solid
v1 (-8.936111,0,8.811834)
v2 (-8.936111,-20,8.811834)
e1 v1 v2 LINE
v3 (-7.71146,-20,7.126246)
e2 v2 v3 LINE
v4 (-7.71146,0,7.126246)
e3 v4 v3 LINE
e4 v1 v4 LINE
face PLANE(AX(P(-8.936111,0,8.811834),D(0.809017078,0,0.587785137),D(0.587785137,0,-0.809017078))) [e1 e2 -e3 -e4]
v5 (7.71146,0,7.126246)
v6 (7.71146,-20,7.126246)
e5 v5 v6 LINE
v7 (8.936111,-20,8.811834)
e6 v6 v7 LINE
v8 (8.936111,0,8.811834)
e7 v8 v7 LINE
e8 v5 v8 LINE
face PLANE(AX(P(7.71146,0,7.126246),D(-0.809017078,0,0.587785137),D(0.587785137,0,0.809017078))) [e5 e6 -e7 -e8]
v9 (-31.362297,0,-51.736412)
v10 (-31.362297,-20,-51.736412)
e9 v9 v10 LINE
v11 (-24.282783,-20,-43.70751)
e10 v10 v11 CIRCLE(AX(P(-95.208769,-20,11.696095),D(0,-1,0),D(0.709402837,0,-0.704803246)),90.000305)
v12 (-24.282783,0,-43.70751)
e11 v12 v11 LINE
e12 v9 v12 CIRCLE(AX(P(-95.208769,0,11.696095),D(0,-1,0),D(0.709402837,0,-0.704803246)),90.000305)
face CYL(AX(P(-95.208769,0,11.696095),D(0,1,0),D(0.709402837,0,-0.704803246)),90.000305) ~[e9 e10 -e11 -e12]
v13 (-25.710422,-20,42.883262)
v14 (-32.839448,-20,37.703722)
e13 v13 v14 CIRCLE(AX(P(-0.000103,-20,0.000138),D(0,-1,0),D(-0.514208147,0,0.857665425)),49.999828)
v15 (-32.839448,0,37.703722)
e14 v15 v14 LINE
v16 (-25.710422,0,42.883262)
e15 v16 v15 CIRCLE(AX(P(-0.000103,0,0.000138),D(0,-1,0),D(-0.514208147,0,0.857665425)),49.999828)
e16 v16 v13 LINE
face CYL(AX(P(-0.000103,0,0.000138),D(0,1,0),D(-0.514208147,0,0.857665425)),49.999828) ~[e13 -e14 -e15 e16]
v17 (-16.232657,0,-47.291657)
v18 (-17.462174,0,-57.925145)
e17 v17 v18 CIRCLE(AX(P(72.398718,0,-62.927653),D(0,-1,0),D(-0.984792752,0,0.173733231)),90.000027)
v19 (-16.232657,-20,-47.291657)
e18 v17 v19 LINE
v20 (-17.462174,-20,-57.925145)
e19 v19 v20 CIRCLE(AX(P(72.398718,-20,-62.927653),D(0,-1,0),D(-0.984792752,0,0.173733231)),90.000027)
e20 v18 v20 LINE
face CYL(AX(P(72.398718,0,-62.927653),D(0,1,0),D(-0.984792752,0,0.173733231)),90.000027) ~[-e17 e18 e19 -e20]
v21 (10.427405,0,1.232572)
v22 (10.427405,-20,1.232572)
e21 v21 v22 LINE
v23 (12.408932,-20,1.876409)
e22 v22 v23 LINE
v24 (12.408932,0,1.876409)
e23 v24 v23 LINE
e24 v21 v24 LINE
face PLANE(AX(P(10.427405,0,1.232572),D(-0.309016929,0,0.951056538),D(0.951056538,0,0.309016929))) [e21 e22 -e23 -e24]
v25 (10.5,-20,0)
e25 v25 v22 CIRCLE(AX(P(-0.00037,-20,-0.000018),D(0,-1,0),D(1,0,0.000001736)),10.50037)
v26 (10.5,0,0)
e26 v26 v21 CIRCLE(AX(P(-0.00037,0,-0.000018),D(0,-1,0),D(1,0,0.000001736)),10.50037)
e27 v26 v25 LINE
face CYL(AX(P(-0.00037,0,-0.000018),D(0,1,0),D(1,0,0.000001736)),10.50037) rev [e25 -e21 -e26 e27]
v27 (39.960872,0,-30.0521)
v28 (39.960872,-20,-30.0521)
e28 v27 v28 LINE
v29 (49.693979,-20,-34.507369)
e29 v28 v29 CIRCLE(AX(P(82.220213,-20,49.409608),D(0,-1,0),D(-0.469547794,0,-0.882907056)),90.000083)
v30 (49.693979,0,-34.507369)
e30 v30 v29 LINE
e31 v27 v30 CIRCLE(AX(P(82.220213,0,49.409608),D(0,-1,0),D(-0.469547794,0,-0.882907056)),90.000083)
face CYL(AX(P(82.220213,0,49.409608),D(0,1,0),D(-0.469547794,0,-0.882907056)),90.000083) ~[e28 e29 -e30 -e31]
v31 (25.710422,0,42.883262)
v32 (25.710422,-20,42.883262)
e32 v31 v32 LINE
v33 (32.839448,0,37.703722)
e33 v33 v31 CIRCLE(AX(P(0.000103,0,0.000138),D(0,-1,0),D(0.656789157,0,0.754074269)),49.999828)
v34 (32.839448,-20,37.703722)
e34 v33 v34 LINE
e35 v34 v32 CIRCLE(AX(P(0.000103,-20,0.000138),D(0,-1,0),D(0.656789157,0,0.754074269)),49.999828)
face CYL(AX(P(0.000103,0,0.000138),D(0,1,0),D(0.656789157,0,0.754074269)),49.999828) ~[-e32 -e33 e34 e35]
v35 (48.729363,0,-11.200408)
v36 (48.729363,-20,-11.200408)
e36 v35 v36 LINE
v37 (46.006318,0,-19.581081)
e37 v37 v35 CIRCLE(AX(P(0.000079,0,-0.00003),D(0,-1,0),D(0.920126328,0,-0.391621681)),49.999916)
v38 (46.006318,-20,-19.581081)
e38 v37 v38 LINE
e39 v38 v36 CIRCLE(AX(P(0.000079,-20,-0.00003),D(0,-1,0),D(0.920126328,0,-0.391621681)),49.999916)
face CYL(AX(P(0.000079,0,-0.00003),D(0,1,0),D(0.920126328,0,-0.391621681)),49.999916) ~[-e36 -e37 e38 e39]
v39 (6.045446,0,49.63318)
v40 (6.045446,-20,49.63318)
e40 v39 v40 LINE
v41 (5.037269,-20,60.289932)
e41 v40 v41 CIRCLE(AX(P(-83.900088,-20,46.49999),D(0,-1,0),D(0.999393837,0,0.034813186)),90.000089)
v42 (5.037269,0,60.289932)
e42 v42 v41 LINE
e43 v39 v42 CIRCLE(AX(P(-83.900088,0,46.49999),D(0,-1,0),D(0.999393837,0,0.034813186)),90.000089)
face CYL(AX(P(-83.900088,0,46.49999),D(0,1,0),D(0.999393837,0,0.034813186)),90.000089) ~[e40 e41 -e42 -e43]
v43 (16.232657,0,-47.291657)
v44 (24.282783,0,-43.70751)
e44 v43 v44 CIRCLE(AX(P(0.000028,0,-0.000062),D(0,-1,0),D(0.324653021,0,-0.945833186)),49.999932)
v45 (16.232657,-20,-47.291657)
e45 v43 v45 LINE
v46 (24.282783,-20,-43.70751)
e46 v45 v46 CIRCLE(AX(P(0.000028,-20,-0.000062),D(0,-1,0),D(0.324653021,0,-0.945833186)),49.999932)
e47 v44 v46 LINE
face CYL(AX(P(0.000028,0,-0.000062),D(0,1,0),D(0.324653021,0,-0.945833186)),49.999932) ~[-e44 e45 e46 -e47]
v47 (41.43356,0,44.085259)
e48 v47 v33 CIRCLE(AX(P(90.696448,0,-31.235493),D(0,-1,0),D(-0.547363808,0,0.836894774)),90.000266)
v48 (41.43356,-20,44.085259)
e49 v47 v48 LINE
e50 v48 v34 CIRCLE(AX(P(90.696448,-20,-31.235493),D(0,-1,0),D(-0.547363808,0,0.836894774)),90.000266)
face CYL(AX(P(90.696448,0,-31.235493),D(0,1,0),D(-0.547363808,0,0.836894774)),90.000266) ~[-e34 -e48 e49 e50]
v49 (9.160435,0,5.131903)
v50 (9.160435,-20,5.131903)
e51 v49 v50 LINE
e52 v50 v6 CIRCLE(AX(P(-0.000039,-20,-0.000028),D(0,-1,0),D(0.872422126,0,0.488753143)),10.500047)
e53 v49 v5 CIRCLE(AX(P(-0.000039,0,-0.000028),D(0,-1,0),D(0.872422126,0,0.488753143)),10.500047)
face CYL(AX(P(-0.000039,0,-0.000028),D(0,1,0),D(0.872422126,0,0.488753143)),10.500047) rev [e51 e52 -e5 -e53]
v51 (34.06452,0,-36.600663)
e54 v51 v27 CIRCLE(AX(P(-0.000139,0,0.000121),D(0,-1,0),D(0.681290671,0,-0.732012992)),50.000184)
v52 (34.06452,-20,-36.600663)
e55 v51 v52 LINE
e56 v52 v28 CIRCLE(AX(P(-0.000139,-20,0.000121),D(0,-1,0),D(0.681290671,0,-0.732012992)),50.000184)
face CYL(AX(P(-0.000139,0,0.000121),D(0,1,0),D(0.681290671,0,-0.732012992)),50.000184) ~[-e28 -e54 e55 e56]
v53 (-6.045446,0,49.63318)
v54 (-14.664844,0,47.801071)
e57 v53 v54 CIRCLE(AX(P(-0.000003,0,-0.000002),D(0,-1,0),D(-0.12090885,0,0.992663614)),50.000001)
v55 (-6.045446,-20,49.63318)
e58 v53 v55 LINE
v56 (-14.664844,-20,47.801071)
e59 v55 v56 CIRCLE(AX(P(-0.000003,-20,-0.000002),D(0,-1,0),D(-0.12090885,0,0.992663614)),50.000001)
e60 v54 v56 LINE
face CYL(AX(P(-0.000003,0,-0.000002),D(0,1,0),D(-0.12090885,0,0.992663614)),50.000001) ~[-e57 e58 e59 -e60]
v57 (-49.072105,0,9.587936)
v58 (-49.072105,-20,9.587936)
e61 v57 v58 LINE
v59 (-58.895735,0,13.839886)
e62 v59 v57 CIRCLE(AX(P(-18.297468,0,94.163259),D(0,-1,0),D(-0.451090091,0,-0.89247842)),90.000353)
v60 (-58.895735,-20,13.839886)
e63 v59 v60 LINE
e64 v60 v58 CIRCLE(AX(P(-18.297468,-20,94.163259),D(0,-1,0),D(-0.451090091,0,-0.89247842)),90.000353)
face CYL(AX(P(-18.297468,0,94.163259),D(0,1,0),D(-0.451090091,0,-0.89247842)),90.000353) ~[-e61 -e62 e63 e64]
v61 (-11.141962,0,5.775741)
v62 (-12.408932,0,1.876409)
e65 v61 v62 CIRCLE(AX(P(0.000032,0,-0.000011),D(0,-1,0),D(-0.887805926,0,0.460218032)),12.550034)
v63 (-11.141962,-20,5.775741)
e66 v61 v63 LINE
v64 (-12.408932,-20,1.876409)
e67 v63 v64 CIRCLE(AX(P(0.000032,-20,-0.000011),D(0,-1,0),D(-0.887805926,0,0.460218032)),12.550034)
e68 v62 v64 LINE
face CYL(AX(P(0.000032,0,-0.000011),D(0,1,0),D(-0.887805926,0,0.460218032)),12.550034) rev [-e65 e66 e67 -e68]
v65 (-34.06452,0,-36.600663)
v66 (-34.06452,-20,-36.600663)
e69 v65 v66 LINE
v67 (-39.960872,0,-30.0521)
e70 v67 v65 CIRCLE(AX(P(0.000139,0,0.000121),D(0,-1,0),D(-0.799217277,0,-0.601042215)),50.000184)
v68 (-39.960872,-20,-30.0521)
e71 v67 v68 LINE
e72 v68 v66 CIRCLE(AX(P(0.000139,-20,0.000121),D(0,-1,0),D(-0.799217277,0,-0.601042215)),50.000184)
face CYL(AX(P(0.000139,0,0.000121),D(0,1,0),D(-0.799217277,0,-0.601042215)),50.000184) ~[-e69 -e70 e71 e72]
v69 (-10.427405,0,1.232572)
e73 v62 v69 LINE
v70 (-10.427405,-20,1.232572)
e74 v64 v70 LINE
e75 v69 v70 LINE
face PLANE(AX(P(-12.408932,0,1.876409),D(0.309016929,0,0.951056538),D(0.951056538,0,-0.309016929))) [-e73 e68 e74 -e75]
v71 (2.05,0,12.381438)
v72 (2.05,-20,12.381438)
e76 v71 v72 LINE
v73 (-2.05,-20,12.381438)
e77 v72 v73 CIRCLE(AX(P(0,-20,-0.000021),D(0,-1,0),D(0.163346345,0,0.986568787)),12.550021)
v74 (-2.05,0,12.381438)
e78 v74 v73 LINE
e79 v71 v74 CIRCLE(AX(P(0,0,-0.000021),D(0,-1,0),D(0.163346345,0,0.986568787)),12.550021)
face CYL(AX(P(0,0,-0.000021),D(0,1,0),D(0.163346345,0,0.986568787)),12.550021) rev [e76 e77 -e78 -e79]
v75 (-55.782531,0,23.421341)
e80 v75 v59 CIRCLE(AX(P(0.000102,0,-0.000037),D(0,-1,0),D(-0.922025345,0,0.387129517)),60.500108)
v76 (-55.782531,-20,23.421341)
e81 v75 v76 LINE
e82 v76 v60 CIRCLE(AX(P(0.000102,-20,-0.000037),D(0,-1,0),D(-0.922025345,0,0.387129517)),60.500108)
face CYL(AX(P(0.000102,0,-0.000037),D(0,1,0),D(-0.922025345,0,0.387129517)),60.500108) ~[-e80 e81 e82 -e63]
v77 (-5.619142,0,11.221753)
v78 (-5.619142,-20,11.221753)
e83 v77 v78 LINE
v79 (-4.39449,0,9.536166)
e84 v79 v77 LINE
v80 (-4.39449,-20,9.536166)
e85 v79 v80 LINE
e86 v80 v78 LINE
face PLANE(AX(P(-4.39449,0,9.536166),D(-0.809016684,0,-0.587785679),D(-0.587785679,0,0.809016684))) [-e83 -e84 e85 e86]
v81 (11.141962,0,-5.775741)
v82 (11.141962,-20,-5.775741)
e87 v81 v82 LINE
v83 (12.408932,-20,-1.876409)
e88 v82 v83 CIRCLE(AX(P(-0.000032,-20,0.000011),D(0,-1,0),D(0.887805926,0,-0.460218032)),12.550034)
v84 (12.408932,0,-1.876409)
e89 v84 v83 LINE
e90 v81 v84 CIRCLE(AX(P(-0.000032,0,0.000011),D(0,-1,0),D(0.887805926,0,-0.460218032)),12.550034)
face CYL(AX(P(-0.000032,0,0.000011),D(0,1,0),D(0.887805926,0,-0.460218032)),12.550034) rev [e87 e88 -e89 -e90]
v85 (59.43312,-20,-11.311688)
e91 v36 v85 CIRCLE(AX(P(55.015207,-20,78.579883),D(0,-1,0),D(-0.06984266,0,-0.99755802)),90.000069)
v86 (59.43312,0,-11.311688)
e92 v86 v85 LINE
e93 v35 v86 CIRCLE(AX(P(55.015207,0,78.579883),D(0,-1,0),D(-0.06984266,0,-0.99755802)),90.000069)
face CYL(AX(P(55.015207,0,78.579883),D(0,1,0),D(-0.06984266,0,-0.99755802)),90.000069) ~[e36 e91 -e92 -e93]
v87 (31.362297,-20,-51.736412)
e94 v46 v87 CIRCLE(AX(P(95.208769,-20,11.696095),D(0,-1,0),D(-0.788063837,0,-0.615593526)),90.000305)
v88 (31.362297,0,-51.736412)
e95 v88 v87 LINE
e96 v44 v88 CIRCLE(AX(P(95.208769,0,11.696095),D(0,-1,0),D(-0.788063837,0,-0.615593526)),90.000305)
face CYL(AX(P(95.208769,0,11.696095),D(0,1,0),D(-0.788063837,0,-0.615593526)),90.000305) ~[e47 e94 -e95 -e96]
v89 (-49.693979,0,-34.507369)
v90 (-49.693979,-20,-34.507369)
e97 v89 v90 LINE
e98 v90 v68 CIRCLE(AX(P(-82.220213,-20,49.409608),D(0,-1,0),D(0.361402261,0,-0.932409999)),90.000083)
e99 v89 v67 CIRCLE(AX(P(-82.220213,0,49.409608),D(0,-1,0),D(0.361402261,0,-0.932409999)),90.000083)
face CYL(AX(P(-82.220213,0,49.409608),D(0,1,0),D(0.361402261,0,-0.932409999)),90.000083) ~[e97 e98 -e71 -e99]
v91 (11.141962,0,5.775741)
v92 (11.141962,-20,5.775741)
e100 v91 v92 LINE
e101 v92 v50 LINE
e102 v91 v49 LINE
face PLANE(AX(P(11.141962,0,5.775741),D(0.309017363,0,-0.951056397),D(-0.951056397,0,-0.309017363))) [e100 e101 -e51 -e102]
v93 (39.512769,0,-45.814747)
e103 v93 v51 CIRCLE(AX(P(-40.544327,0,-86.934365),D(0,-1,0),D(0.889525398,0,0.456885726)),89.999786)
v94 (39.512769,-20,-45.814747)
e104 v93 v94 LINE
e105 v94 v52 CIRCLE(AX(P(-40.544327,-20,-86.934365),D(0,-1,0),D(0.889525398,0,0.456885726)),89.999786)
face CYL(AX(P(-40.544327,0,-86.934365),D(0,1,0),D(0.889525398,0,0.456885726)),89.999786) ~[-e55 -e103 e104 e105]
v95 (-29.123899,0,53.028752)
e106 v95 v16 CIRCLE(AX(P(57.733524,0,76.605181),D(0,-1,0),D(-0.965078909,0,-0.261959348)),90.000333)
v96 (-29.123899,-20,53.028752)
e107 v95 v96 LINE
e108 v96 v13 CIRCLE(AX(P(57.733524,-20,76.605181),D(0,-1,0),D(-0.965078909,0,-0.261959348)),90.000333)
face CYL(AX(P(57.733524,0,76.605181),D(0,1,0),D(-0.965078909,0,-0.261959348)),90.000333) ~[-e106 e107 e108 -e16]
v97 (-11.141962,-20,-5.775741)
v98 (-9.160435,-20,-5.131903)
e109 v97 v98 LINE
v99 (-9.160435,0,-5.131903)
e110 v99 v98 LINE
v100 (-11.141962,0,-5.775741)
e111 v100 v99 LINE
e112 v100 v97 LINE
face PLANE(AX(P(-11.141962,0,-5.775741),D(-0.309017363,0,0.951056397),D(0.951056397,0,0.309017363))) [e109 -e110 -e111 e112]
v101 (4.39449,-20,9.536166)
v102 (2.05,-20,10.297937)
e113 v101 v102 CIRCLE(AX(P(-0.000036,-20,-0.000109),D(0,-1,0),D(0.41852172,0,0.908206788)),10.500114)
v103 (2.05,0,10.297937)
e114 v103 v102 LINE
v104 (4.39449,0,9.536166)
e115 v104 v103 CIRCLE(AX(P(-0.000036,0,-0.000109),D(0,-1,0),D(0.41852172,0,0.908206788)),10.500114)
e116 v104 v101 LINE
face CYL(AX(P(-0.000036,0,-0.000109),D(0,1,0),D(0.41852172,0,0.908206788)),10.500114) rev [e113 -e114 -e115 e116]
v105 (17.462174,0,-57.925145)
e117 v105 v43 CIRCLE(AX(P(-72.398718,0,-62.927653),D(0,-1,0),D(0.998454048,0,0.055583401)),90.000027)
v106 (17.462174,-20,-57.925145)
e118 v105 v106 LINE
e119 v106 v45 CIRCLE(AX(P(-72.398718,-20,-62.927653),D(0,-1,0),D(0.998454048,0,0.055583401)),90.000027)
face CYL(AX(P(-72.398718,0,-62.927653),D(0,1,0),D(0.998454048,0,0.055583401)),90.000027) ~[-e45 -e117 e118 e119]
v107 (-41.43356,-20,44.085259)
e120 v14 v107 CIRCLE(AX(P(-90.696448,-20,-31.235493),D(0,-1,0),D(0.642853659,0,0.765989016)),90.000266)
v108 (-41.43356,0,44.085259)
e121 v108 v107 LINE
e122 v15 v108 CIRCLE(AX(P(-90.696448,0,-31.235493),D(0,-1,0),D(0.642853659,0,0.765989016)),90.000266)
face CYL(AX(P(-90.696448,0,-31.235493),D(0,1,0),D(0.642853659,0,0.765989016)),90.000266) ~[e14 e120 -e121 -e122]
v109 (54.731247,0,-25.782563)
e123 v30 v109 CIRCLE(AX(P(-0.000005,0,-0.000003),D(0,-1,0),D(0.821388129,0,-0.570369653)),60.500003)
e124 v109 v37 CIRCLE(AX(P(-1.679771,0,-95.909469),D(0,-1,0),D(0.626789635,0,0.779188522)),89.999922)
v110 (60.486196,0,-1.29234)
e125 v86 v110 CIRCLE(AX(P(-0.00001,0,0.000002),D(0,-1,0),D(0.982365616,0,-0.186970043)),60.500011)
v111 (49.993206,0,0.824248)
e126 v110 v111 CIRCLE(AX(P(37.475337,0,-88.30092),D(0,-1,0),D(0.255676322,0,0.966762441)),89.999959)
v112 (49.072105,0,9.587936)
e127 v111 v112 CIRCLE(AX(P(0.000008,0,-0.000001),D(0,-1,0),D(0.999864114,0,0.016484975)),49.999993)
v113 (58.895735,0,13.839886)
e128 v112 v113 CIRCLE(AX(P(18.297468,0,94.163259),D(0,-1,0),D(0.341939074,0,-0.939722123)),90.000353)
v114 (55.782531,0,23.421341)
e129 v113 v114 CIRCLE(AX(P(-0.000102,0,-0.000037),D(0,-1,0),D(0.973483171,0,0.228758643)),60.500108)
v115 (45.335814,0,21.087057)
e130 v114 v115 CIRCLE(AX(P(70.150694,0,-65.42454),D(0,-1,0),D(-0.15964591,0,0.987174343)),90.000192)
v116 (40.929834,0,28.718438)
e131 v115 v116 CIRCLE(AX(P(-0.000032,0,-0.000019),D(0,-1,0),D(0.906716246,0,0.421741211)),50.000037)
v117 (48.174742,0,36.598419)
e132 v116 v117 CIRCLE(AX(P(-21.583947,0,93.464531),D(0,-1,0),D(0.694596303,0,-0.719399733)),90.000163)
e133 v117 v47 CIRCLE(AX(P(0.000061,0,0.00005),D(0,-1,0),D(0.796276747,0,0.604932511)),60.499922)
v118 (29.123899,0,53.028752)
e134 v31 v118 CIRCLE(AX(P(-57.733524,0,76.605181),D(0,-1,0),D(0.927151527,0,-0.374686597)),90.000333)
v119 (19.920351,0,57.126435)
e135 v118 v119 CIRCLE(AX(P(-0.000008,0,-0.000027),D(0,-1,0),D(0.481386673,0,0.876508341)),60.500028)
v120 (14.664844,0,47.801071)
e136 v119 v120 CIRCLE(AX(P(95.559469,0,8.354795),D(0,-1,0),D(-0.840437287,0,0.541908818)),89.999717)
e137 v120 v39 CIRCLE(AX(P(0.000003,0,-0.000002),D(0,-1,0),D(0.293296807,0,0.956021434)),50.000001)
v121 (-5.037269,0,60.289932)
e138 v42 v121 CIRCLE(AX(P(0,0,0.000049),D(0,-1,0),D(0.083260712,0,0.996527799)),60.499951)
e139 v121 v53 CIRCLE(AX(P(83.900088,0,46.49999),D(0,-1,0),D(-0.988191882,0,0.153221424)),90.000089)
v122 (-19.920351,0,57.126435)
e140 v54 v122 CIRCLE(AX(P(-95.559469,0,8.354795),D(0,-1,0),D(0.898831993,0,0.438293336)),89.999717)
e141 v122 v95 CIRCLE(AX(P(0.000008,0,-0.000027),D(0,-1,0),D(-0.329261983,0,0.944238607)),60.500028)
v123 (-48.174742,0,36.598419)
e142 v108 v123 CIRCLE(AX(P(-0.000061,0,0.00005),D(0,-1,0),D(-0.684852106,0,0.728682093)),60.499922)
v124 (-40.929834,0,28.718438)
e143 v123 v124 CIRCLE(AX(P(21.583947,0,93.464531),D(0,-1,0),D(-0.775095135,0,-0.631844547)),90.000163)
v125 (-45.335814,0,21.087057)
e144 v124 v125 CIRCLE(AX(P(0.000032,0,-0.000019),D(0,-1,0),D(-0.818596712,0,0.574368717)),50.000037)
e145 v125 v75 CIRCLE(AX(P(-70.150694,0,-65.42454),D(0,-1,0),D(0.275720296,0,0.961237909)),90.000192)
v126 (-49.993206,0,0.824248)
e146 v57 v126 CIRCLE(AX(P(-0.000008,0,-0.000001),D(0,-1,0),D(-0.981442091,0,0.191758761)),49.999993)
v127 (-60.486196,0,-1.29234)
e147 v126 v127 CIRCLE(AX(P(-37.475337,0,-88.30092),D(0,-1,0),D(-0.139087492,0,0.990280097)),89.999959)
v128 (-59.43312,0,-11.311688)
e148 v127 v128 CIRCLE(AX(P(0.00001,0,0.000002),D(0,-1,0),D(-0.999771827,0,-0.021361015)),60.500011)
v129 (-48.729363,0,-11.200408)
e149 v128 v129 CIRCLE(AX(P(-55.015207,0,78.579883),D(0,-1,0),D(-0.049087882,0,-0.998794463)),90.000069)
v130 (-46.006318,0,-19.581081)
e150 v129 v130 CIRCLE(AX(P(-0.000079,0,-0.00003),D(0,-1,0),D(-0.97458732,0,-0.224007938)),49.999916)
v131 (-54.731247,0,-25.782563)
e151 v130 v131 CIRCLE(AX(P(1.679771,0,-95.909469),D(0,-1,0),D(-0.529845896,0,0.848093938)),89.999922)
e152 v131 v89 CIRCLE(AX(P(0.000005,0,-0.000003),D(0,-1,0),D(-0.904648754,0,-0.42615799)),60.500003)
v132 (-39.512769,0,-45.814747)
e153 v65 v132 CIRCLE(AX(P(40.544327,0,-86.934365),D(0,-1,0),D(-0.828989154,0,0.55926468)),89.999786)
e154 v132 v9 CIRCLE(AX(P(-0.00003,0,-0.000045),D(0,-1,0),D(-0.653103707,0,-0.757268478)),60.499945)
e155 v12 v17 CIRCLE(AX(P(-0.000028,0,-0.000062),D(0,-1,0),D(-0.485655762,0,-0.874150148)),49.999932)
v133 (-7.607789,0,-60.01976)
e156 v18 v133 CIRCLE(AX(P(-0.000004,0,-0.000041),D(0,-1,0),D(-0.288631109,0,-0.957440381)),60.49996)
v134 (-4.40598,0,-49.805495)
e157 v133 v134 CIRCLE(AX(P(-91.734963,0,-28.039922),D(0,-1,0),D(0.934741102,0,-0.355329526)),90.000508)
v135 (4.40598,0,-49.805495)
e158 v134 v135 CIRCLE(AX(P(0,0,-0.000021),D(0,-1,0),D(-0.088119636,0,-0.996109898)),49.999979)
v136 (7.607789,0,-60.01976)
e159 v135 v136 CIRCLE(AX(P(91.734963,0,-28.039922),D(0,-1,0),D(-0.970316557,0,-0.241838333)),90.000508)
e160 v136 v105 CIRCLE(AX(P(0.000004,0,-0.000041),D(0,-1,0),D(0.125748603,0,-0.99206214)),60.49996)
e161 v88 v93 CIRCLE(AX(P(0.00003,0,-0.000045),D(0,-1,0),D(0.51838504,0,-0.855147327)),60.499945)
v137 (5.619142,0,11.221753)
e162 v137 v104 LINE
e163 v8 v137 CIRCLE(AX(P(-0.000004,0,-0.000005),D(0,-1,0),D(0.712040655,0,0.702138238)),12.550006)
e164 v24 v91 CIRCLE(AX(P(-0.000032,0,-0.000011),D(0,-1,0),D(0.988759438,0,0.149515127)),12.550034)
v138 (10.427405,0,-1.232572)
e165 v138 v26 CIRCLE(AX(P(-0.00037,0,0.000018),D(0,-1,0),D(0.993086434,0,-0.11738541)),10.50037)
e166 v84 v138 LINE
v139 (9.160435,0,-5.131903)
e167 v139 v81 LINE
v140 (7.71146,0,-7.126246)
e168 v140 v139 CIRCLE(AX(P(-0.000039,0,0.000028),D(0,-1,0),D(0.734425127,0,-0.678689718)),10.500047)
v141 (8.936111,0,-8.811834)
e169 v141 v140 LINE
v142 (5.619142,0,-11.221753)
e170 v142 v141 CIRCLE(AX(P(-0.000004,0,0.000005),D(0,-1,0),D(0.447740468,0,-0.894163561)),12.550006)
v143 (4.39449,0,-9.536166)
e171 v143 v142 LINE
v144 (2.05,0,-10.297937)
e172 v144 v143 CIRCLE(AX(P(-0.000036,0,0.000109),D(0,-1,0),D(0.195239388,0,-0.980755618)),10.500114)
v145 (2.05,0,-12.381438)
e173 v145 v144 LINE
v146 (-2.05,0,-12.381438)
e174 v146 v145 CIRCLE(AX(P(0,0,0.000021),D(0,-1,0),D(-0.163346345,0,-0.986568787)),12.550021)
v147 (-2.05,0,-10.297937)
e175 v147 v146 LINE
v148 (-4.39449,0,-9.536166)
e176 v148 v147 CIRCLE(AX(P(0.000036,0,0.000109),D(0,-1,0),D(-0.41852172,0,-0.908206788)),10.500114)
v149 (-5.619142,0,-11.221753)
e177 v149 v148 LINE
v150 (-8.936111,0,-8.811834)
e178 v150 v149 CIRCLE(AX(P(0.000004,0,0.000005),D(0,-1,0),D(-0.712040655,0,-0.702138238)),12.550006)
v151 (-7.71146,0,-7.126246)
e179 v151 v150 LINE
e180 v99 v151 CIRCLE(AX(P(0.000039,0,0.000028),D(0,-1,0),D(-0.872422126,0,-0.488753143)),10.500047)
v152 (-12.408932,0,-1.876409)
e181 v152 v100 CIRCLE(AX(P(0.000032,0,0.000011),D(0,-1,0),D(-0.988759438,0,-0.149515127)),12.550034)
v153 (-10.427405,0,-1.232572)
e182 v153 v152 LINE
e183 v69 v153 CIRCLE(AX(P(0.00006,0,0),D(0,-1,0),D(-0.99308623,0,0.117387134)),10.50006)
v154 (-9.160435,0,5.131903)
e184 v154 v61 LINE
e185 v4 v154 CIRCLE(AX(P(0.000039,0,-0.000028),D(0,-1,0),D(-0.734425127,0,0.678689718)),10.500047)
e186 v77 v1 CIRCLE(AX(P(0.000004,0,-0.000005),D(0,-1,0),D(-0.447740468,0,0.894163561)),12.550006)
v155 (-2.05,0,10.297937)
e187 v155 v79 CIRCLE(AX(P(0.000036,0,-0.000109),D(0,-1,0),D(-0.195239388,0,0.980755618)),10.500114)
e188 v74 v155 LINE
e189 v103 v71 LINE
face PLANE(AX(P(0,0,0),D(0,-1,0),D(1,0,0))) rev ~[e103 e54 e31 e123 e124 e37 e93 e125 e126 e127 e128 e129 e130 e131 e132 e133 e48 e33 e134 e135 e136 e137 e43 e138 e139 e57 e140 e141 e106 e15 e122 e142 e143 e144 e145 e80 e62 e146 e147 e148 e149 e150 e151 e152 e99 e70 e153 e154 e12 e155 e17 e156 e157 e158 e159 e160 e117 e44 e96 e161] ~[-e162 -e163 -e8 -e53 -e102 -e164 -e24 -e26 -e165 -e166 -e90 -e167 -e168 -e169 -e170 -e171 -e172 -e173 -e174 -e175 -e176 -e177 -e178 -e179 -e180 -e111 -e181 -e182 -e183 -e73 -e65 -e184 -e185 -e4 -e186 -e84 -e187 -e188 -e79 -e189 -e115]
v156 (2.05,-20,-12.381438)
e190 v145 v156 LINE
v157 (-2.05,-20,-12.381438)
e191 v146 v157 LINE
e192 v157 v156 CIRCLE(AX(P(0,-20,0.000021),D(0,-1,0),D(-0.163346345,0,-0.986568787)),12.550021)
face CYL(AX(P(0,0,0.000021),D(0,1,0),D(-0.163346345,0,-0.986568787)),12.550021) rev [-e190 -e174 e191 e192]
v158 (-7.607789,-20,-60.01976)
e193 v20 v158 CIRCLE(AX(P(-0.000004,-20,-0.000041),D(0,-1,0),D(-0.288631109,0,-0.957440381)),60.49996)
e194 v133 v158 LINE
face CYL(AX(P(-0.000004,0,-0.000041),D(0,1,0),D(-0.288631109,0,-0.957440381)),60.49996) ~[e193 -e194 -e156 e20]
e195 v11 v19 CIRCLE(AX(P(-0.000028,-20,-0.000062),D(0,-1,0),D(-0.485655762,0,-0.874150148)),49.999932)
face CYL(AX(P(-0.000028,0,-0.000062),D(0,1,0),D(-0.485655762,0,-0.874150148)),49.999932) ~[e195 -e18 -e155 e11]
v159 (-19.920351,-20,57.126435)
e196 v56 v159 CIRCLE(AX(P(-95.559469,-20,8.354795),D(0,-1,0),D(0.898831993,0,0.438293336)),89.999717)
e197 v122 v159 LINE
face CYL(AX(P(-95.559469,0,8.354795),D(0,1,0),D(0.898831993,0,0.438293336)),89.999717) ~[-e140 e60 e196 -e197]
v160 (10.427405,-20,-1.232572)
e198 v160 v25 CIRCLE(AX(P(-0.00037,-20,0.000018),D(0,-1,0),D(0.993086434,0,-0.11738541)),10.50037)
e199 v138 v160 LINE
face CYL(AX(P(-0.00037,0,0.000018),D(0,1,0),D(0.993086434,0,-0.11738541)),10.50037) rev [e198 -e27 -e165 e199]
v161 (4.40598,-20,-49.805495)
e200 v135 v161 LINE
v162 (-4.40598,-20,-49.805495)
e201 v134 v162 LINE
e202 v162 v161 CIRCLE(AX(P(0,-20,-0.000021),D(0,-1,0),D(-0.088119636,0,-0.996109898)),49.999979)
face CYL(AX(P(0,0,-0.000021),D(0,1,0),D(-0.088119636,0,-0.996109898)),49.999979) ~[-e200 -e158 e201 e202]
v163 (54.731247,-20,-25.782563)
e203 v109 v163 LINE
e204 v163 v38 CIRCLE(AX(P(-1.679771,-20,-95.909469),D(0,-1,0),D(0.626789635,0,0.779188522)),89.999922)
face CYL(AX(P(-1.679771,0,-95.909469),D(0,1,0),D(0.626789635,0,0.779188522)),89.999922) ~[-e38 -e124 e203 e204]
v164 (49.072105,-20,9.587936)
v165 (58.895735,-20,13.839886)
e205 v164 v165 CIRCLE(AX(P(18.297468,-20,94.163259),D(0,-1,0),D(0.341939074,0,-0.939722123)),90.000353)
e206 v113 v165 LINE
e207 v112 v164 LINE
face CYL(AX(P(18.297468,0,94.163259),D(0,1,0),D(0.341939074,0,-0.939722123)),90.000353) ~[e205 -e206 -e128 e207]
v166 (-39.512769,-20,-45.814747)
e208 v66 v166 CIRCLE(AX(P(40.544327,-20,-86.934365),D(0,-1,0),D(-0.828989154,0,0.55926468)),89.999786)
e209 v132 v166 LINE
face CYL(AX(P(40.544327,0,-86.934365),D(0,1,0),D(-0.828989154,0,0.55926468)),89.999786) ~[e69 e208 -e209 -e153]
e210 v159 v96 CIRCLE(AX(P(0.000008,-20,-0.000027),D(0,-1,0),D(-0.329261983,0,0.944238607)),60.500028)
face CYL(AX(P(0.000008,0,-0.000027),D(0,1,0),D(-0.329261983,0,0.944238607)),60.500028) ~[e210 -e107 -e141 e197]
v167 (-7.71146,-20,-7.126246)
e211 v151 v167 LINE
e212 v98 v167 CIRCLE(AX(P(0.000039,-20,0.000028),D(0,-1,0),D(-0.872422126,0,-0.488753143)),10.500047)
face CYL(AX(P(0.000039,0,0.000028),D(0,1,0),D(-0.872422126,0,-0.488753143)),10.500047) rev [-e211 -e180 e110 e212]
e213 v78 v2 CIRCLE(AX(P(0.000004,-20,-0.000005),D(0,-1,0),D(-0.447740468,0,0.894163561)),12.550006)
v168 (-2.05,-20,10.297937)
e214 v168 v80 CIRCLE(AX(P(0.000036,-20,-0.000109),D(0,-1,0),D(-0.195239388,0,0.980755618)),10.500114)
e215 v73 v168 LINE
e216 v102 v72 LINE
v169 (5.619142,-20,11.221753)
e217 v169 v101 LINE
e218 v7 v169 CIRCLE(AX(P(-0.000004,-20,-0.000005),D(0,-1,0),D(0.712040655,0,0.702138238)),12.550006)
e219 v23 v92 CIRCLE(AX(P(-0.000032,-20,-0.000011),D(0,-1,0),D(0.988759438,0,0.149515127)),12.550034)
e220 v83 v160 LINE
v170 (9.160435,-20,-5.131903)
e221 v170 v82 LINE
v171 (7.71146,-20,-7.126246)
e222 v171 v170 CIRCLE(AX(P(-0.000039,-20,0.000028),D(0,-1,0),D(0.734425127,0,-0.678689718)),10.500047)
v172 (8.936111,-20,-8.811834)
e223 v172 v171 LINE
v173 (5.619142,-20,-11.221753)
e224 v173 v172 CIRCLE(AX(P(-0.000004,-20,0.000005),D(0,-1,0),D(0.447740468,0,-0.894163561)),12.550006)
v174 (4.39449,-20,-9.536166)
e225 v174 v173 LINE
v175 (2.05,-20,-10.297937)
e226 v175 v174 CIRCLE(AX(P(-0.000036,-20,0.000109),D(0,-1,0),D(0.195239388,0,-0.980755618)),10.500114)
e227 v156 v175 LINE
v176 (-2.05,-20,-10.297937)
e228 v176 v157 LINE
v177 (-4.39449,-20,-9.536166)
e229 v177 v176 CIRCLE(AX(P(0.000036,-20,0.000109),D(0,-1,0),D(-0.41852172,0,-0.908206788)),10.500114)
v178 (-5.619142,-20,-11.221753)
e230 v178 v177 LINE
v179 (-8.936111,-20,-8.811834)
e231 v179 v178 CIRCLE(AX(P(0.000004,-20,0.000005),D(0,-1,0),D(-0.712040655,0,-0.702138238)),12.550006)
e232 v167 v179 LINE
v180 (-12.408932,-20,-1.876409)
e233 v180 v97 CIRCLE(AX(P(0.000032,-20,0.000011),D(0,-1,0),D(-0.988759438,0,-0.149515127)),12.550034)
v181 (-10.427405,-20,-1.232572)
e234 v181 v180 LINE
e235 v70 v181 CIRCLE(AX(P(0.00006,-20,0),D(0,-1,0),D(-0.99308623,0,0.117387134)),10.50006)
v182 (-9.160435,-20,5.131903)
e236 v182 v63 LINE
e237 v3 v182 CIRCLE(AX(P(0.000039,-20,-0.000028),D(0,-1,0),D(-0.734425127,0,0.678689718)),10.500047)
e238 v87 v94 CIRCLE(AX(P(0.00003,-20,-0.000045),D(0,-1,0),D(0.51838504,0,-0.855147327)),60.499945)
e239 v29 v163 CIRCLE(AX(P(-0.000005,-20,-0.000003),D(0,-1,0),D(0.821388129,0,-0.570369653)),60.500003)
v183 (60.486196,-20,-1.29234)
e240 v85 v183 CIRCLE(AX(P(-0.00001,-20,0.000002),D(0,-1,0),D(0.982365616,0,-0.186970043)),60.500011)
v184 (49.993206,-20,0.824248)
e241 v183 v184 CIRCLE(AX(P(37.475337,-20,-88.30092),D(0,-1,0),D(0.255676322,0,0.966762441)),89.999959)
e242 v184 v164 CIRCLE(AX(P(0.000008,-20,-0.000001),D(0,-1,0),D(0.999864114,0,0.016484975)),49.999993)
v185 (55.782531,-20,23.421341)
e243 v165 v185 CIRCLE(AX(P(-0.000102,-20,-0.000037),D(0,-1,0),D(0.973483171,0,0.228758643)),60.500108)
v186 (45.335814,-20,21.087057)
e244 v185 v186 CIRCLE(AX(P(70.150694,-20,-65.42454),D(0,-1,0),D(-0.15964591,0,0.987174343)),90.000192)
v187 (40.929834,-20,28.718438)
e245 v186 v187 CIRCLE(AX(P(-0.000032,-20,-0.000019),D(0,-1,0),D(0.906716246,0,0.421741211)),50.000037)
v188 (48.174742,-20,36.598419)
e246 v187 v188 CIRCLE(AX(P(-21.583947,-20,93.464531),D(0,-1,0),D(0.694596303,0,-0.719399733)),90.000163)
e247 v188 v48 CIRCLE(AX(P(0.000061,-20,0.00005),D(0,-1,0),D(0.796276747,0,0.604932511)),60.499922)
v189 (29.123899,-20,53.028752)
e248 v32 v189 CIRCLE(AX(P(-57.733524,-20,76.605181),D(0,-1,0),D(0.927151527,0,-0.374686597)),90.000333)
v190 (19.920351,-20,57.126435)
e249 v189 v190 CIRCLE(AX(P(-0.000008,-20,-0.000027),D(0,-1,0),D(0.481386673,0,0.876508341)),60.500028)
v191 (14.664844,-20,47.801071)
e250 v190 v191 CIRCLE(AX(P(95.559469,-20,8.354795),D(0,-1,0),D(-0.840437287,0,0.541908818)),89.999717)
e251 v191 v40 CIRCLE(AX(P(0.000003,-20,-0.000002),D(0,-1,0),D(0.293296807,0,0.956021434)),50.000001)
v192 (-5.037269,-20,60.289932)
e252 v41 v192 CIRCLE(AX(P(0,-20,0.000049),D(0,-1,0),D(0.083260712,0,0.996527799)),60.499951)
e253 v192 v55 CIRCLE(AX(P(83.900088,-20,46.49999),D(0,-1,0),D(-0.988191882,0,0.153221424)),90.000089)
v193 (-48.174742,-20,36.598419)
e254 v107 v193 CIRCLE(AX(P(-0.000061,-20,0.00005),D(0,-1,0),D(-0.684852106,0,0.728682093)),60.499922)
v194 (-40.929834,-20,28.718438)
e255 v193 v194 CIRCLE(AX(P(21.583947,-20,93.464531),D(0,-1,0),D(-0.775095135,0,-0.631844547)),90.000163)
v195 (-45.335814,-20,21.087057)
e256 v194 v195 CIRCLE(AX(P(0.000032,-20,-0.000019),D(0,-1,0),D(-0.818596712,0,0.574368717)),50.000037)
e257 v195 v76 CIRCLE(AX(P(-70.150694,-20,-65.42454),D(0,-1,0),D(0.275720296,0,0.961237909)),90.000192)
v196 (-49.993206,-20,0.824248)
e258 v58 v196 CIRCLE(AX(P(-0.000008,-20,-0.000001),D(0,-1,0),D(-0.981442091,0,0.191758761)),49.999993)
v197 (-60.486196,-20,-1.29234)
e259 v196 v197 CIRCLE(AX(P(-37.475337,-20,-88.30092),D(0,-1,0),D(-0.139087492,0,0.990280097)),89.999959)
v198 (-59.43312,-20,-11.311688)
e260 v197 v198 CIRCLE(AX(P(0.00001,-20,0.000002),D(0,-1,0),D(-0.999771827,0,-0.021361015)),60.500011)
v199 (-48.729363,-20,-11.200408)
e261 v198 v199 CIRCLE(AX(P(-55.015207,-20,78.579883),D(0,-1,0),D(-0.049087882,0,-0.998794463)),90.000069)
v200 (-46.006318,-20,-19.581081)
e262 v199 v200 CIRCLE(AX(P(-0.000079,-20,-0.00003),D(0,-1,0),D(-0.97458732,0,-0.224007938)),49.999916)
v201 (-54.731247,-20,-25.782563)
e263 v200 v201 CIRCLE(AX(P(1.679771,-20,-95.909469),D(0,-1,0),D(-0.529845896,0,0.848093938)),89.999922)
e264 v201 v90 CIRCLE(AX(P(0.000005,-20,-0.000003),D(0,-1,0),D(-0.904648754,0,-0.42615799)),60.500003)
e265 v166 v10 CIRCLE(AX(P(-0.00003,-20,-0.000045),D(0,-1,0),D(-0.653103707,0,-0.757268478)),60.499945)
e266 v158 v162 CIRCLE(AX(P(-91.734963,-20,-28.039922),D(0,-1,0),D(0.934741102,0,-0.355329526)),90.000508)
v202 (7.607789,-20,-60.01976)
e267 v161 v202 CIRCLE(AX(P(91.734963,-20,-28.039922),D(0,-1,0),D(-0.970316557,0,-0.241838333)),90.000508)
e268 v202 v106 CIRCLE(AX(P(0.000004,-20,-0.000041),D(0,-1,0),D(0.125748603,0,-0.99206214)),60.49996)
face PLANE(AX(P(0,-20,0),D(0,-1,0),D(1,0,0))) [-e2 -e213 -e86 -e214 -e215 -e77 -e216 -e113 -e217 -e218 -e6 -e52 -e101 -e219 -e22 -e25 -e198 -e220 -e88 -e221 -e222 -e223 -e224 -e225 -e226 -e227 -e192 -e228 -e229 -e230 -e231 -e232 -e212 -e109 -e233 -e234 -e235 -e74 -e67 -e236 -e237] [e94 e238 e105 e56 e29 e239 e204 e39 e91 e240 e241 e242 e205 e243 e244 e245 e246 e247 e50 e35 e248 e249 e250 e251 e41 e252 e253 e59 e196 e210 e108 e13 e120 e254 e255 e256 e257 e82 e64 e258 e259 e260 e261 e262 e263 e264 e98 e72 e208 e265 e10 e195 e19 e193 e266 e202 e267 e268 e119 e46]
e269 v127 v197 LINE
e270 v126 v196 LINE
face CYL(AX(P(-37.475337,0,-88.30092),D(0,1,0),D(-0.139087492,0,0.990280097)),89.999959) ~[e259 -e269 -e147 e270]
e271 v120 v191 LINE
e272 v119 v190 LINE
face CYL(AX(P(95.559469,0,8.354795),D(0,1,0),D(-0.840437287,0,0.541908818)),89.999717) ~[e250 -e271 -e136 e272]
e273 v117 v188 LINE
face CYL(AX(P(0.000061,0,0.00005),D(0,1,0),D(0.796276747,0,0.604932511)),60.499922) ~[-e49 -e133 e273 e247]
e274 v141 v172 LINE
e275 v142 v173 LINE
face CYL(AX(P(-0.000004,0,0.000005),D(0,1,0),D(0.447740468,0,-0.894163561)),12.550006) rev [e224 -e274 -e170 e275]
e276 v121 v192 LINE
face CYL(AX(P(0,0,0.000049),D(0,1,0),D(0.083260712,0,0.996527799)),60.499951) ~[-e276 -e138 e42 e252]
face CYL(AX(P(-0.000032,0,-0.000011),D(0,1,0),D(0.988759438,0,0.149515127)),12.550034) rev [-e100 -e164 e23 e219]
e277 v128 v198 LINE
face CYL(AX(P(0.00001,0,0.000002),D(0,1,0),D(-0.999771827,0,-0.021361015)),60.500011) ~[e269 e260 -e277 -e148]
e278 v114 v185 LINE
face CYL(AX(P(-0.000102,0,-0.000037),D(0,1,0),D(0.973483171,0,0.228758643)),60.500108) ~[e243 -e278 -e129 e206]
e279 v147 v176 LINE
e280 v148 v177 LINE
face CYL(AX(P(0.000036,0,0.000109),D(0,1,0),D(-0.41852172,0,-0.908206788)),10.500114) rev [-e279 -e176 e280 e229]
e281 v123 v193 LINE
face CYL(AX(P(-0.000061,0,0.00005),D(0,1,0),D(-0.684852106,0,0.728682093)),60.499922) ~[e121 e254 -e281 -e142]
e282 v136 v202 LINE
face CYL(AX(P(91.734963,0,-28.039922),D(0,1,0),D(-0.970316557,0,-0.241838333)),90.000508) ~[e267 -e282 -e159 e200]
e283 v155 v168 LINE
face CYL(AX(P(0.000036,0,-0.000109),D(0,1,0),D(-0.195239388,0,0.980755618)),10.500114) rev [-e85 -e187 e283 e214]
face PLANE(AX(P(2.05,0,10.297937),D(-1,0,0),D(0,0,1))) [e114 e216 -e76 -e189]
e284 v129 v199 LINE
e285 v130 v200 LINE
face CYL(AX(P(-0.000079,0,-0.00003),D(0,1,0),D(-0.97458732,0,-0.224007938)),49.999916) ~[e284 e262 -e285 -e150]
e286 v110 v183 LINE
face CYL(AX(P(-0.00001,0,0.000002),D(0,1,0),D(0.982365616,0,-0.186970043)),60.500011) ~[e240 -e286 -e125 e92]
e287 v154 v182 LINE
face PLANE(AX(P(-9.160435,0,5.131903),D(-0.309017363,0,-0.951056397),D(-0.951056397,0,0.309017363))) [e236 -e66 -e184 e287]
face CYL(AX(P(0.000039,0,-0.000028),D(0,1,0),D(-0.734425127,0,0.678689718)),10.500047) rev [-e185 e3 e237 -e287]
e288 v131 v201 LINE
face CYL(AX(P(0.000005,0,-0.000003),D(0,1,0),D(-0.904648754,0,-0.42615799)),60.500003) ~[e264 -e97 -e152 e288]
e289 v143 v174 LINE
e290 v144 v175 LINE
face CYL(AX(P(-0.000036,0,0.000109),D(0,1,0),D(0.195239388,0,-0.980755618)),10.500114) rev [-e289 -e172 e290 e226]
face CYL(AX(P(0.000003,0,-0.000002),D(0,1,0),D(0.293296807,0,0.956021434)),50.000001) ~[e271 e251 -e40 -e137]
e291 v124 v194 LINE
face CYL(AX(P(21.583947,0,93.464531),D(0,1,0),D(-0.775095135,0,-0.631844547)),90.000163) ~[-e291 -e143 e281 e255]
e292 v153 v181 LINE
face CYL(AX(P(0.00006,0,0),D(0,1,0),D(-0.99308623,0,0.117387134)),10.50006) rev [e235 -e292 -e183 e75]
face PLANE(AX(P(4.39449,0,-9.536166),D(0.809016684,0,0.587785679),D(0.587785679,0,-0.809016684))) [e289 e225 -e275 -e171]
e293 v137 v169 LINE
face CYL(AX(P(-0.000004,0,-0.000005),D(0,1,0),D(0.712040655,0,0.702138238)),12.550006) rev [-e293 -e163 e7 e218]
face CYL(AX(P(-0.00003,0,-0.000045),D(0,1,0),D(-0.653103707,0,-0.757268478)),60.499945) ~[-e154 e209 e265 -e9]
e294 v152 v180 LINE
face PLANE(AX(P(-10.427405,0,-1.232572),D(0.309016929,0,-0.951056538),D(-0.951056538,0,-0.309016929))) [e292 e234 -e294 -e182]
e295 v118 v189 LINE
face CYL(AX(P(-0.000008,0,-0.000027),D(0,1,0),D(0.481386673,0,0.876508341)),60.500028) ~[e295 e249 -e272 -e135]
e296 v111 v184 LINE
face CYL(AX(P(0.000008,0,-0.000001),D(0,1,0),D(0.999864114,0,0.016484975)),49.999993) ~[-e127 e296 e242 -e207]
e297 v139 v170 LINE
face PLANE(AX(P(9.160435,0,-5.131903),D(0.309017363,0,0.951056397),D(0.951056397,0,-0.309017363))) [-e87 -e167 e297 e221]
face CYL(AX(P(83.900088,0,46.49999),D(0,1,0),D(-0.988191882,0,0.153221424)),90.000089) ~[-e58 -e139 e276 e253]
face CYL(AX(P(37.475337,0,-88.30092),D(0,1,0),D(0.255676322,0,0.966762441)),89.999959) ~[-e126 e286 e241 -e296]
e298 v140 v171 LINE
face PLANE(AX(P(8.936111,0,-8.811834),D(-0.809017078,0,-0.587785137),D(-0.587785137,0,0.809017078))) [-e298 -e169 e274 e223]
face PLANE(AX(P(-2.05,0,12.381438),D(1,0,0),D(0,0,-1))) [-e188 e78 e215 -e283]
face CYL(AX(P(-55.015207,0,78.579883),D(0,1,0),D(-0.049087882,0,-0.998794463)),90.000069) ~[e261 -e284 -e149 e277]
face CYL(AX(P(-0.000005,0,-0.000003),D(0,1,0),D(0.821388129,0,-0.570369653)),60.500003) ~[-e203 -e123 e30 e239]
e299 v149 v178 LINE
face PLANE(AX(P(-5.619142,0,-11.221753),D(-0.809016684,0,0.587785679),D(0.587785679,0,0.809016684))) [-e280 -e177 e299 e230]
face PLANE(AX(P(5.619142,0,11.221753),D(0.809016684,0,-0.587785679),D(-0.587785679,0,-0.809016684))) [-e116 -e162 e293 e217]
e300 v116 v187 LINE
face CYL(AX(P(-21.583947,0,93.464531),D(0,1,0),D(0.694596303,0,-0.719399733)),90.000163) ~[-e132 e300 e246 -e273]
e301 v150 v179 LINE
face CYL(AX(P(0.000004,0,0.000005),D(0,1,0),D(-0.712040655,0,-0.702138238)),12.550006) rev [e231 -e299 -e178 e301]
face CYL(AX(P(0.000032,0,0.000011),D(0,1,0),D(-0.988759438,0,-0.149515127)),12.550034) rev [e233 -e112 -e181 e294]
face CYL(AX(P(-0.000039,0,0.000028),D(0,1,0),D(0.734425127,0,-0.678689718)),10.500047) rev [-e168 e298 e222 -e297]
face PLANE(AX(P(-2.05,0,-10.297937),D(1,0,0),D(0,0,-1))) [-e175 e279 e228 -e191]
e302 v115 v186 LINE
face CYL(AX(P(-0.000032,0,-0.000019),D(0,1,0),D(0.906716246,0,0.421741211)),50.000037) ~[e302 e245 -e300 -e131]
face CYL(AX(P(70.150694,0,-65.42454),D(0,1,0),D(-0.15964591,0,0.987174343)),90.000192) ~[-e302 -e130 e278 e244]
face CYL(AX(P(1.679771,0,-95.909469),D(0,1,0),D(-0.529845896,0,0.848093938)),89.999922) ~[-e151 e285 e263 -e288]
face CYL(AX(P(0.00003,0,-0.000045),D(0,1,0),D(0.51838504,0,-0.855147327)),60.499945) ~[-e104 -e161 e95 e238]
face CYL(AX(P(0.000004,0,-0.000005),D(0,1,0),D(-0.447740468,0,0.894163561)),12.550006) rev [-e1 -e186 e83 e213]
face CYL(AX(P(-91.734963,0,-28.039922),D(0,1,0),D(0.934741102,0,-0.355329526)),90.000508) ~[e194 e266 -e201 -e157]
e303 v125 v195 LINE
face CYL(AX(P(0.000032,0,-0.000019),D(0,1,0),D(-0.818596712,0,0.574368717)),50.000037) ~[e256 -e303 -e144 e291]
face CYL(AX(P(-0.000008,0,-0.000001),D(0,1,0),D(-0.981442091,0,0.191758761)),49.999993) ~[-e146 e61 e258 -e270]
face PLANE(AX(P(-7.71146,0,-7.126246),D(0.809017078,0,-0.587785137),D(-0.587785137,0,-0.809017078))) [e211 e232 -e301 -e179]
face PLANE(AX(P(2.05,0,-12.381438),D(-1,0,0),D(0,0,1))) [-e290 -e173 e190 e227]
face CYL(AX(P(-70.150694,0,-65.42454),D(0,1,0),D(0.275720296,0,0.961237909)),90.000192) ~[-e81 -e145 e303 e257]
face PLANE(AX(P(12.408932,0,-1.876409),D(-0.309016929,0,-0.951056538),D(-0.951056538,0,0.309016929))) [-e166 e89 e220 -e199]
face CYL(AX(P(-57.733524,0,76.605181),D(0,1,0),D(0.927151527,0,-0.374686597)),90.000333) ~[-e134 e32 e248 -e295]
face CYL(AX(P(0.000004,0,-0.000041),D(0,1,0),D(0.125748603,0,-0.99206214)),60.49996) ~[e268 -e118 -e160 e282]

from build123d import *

# Parameters (mm, degrees)
F1_DEPTH = 20
F3_DEPTH = 20


with BuildPart() as f1:
    # F0 (on Front) → F1 (new body)
    with BuildSketch(Plane.XZ):
        with BuildLine():
            ThreePointArc((-58.895735, 13.839886), (-54.04719, 11.567733), (-49.072105, 9.587936))
            ThreePointArc((-49.072105, 9.587936), (-49.726095, 5.226423), (-49.993206, 0.824248))
            ThreePointArc((-49.993206, 0.824248), (-55.271196, -0.077907), (-60.486196, -1.29234))
            ThreePointArc((-60.486196, -1.29234), (-60.168575, -6.323972), (-59.43312, -11.311688))
            ThreePointArc((-59.43312, -11.311688), (-54.079586, -11.415323), (-48.729363, -11.200408))
            ThreePointArc((-48.729363, -11.200408), (-47.552826, -15.45085), (-46.006318, -19.581081))
            ThreePointArc((-46.006318, -19.581081), (-50.461062, -22.551992), (-54.731247, -25.782563))
            ThreePointArc((-54.731247, -25.782563), (-52.394537, -30.25), (-49.693979, -34.507369))
            ThreePointArc((-49.693979, -34.507369), (-44.76113, -32.424566), (-39.960872, -30.0521))
            ThreePointArc((-39.960872, -30.0521), (-37.157241, -33.45653), (-34.06452, -36.600663))
            ThreePointArc((-34.06452, -36.600663), (-36.925753, -41.126633), (-39.512769, -45.814747))
            ThreePointArc((-39.512769, -45.814747), (-35.561008, -48.945528), (-31.362297, -51.736412))
            ThreePointArc((-31.362297, -51.736412), (-27.703068, -47.827306), (-24.282783, -43.70751))
            ThreePointArc((-24.282783, -43.70751), (-20.336832, -45.677273), (-16.232657, -47.291657))
            ThreePointArc((-16.232657, -47.291657), (-17.005645, -52.590106), (-17.462174, -57.925145))
            ThreePointArc((-17.462174, -57.925145), (-12.578657, -59.17793), (-7.607789, -60.01976))
            ThreePointArc((-7.607789, -60.01976), (-5.854894, -54.960271), (-4.40598, -49.805495))
            ThreePointArc((-4.40598, -49.805495), (0, -50), (4.40598, -49.805495))
            ThreePointArc((4.40598, -49.805495), (5.854894, -54.960271), (7.607789, -60.01976))
            ThreePointArc((7.607789, -60.01976), (12.578657, -59.17793), (17.462174, -57.925145))
            ThreePointArc((17.462174, -57.925145), (17.005645, -52.590106), (16.232657, -47.291657))
            ThreePointArc((16.232657, -47.291657), (20.336832, -45.677273), (24.282783, -43.70751))
            ThreePointArc((24.282783, -43.70751), (27.703068, -47.827306), (31.362297, -51.736412))
            ThreePointArc((31.362297, -51.736412), (35.561008, -48.945528), (39.512769, -45.814747))
            ThreePointArc((39.512769, -45.814747), (36.925753, -41.126633), (34.06452, -36.600663))
            ThreePointArc((34.06452, -36.600663), (37.157241, -33.45653), (39.960872, -30.0521))
            ThreePointArc((39.960872, -30.0521), (44.76113, -32.424566), (49.693979, -34.507369))
            ThreePointArc((49.693979, -34.507369), (52.394537, -30.25), (54.731247, -25.782563))
            ThreePointArc((54.731247, -25.782563), (50.461062, -22.551992), (46.006318, -19.581081))
            ThreePointArc((46.006318, -19.581081), (47.552826, -15.45085), (48.729363, -11.200408))
            ThreePointArc((48.729363, -11.200408), (54.079586, -11.415323), (59.43312, -11.311688))
            ThreePointArc((59.43312, -11.311688), (60.168575, -6.323972), (60.486196, -1.29234))
            ThreePointArc((60.486196, -1.29234), (55.271196, -0.077907), (49.993206, 0.824248))
            ThreePointArc((49.993206, 0.824248), (49.726095, 5.226423), (49.072105, 9.587936))
            ThreePointArc((49.072105, 9.587936), (54.04719, 11.567733), (58.895735, 13.839886))
            ThreePointArc((58.895735, 13.839886), (57.538919, 18.695528), (55.782531, 23.421341))
            ThreePointArc((55.782531, 23.421341), (50.524438, 22.409649), (45.335814, 21.087057))
            ThreePointArc((45.335814, 21.087057), (43.30127, 25), (40.929834, 28.718438))
            ThreePointArc((40.929834, 28.718438), (44.669544, 32.550622), (48.174742, 36.598419))
            ThreePointArc((48.174742, 36.598419), (44.960262, 40.482402), (41.43356, 44.085259))
            ThreePointArc((41.43356, 44.085259), (37.041545, 41.022373), (32.839448, 37.703722))
            ThreePointArc((32.839448, 37.703722), (29.389263, 40.45085), (25.710422, 42.883262))
            ThreePointArc((25.710422, 42.883262), (27.568128, 47.905214), (29.123899, 53.028752))
            ThreePointArc((29.123899, 53.028752), (24.607567, 55.2695), (19.920351, 57.126435))
            ThreePointArc((19.920351, 57.126435), (17.153833, 52.541957), (14.664844, 47.801071))
            ThreePointArc((14.664844, 47.801071), (10.395585, 48.90738), (6.045446, 49.63318))
            ThreePointArc((6.045446, 49.63318), (5.699933, 54.976558), (5.037269, 60.289932))
            ThreePointArc((5.037269, 60.289932), (0, 60.5), (-5.037269, 60.289932))
            ThreePointArc((-5.037269, 60.289932), (-5.699933, 54.976558), (-6.045446, 49.63318))
            ThreePointArc((-6.045446, 49.63318), (-10.395585, 48.90738), (-14.664844, 47.801071))
            ThreePointArc((-14.664844, 47.801071), (-17.153833, 52.541957), (-19.920351, 57.126435))
            ThreePointArc((-19.920351, 57.126435), (-24.607567, 55.2695), (-29.123899, 53.028752))
            ThreePointArc((-29.123899, 53.028752), (-27.568128, 47.905214), (-25.710422, 42.883262))
            ThreePointArc((-25.710422, 42.883262), (-29.389263, 40.45085), (-32.839448, 37.703722))
            ThreePointArc((-32.839448, 37.703722), (-37.041545, 41.022373), (-41.43356, 44.085259))
            ThreePointArc((-41.43356, 44.085259), (-44.960262, 40.482402), (-48.174742, 36.598419))
            ThreePointArc((-48.174742, 36.598419), (-44.669544, 32.550622), (-40.929834, 28.718438))
            ThreePointArc((-40.929834, 28.718438), (-43.30127, 25), (-45.335814, 21.087057))
            ThreePointArc((-45.335814, 21.087057), (-50.524438, 22.409649), (-55.782531, 23.421341))
            ThreePointArc((-55.782531, 23.421341), (-57.538919, 18.695528), (-58.895735, 13.839886))
        make_face()
    extrude(amount=F1_DEPTH)

    # F2 (on Front) → F3 (cut)
    with BuildSketch(Plane.XZ):
        with BuildLine():
            ThreePointArc((10.427405, -1.232572), (10.481835, -0.617354), (10.5, 0))
            ThreePointArc((10.5, 0), (10.481835, 0.617354), (10.427405, 1.232572))
            ThreePointArc((10.427405, 1.232572), (9.986093, 3.244678), (9.160435, 5.131903))
            ThreePointArc((9.160435, 5.131903), (8.494678, 6.171745), (7.71146, 7.126246))
            ThreePointArc((7.71146, 7.126246), (6.171745, 8.494678), (4.39449, 9.536166))
            ThreePointArc((4.39449, 9.536166), (3.244678, 9.986093), (2.05, 10.297937))
            ThreePointArc((2.05, 10.297937), (0, 10.5), (-2.05, 10.297937))
            ThreePointArc((-2.05, 10.297937), (-3.244678, 9.986093), (-4.39449, 9.536166))
            ThreePointArc((-4.39449, 9.536166), (-6.171745, 8.494678), (-7.71146, 7.126246))
            ThreePointArc((-7.71146, 7.126246), (-8.494678, 6.171745), (-9.160435, 5.131903))
            ThreePointArc((-9.160435, 5.131903), (-9.986093, 3.244678), (-10.427405, 1.232572))
            ThreePointArc((-10.427405, 1.232572), (-10.5, 0), (-10.427405, -1.232572))
            ThreePointArc((-10.427405, -1.232572), (-9.986093, -3.244678), (-9.160435, -5.131903))
            ThreePointArc((-9.160435, -5.131903), (-8.494678, -6.171745), (-7.71146, -7.126246))
            ThreePointArc((-7.71146, -7.126246), (-6.171745, -8.494678), (-4.39449, -9.536166))
            ThreePointArc((-4.39449, -9.536166), (-3.244678, -9.986093), (-2.05, -10.297937))
            ThreePointArc((-2.05, -10.297937), (0, -10.5), (2.05, -10.297937))
            ThreePointArc((2.05, -10.297937), (3.244678, -9.986093), (4.39449, -9.536166))
            ThreePointArc((4.39449, -9.536166), (6.171745, -8.494678), (7.71146, -7.126246))
            ThreePointArc((7.71146, -7.126246), (8.494678, -6.171745), (9.160435, -5.131903))
            ThreePointArc((9.160435, -5.131903), (9.986093, -3.244678), (10.427405, -1.232572))
        make_face()
        with BuildLine():
            ThreePointArc((9.160435, 5.131903), (9.986093, 3.244678), (10.427405, 1.232572))
            Line((10.427405, 1.232572), (12.408932, 1.876409))
            ThreePointArc((12.408932, 1.876409), (11.935759, 3.878163), (11.141962, 5.775741))
            Line((11.141962, 5.775741), (9.160435, 5.131903))
        make_face()
        with BuildLine():
            Line((12.408932, -1.876409), (10.427405, -1.232572))
            ThreePointArc((10.427405, -1.232572), (9.986093, -3.244678), (9.160435, -5.131903))
            Line((9.160435, -5.131903), (11.141962, -5.775741))
            ThreePointArc((11.141962, -5.775741), (11.935759, -3.878163), (12.408932, -1.876409))
        make_face()
        with BuildLine():
            ThreePointArc((4.39449, 9.536166), (6.171745, 8.494678), (7.71146, 7.126246))
            Line((7.71146, 7.126246), (8.936111, 8.811834))
            ThreePointArc((8.936111, 8.811834), (7.376705, 10.153163), (5.619142, 11.221753))
            Line((5.619142, 11.221753), (4.39449, 9.536166))
        make_face()
        with BuildLine():
            Line((8.936111, -8.811834), (7.71146, -7.126246))
            ThreePointArc((7.71146, -7.126246), (6.171745, -8.494678), (4.39449, -9.536166))
            Line((4.39449, -9.536166), (5.619142, -11.221753))
            ThreePointArc((5.619142, -11.221753), (7.376705, -10.153163), (8.936111, -8.811834))
        make_face()
        with BuildLine():
            ThreePointArc((-2.05, 10.297937), (0, 10.5), (2.05, 10.297937))
            Line((2.05, 10.297937), (2.05, 12.381438))
            ThreePointArc((2.05, 12.381438), (0, 12.55), (-2.05, 12.381438))
            Line((-2.05, 12.381438), (-2.05, 10.297937))
        make_face()
        with BuildLine():
            Line((2.05, -12.381438), (2.05, -10.297937))
            ThreePointArc((2.05, -10.297937), (0, -10.5), (-2.05, -10.297937))
            Line((-2.05, -10.297937), (-2.05, -12.381438))
            ThreePointArc((-2.05, -12.381438), (0, -12.55), (2.05, -12.381438))
        make_face()
        with BuildLine():
            ThreePointArc((-7.71146, 7.126246), (-6.171745, 8.494678), (-4.39449, 9.536166))
            Line((-4.39449, 9.536166), (-5.619142, 11.221753))
            ThreePointArc((-5.619142, 11.221753), (-7.376705, 10.153163), (-8.936111, 8.811834))
            Line((-8.936111, 8.811834), (-7.71146, 7.126246))
        make_face()
        with BuildLine():
            Line((-5.619142, -11.221753), (-4.39449, -9.536166))
            ThreePointArc((-4.39449, -9.536166), (-6.171745, -8.494678), (-7.71146, -7.126246))
            Line((-7.71146, -7.126246), (-8.936111, -8.811834))
            ThreePointArc((-8.936111, -8.811834), (-7.376705, -10.153163), (-5.619142, -11.221753))
        make_face()
        with BuildLine():
            ThreePointArc((-10.427405, 1.232572), (-9.986093, 3.244678), (-9.160435, 5.131903))
            Line((-9.160435, 5.131903), (-11.141962, 5.775741))
            ThreePointArc((-11.141962, 5.775741), (-11.935759, 3.878163), (-12.408932, 1.876409))
            Line((-12.408932, 1.876409), (-10.427405, 1.232572))
        make_face()
        with BuildLine():
            Line((-11.141962, -5.775741), (-9.160435, -5.131903))
            ThreePointArc((-9.160435, -5.131903), (-9.986093, -3.244678), (-10.427405, -1.232572))
            Line((-10.427405, -1.232572), (-12.408932, -1.876409))
            ThreePointArc((-12.408932, -1.876409), (-11.935759, -3.878163), (-11.141962, -5.775741))
        make_face()
    extrude(amount=F3_DEPTH, mode=Mode.SUBTRACT)


solid = f1.part
